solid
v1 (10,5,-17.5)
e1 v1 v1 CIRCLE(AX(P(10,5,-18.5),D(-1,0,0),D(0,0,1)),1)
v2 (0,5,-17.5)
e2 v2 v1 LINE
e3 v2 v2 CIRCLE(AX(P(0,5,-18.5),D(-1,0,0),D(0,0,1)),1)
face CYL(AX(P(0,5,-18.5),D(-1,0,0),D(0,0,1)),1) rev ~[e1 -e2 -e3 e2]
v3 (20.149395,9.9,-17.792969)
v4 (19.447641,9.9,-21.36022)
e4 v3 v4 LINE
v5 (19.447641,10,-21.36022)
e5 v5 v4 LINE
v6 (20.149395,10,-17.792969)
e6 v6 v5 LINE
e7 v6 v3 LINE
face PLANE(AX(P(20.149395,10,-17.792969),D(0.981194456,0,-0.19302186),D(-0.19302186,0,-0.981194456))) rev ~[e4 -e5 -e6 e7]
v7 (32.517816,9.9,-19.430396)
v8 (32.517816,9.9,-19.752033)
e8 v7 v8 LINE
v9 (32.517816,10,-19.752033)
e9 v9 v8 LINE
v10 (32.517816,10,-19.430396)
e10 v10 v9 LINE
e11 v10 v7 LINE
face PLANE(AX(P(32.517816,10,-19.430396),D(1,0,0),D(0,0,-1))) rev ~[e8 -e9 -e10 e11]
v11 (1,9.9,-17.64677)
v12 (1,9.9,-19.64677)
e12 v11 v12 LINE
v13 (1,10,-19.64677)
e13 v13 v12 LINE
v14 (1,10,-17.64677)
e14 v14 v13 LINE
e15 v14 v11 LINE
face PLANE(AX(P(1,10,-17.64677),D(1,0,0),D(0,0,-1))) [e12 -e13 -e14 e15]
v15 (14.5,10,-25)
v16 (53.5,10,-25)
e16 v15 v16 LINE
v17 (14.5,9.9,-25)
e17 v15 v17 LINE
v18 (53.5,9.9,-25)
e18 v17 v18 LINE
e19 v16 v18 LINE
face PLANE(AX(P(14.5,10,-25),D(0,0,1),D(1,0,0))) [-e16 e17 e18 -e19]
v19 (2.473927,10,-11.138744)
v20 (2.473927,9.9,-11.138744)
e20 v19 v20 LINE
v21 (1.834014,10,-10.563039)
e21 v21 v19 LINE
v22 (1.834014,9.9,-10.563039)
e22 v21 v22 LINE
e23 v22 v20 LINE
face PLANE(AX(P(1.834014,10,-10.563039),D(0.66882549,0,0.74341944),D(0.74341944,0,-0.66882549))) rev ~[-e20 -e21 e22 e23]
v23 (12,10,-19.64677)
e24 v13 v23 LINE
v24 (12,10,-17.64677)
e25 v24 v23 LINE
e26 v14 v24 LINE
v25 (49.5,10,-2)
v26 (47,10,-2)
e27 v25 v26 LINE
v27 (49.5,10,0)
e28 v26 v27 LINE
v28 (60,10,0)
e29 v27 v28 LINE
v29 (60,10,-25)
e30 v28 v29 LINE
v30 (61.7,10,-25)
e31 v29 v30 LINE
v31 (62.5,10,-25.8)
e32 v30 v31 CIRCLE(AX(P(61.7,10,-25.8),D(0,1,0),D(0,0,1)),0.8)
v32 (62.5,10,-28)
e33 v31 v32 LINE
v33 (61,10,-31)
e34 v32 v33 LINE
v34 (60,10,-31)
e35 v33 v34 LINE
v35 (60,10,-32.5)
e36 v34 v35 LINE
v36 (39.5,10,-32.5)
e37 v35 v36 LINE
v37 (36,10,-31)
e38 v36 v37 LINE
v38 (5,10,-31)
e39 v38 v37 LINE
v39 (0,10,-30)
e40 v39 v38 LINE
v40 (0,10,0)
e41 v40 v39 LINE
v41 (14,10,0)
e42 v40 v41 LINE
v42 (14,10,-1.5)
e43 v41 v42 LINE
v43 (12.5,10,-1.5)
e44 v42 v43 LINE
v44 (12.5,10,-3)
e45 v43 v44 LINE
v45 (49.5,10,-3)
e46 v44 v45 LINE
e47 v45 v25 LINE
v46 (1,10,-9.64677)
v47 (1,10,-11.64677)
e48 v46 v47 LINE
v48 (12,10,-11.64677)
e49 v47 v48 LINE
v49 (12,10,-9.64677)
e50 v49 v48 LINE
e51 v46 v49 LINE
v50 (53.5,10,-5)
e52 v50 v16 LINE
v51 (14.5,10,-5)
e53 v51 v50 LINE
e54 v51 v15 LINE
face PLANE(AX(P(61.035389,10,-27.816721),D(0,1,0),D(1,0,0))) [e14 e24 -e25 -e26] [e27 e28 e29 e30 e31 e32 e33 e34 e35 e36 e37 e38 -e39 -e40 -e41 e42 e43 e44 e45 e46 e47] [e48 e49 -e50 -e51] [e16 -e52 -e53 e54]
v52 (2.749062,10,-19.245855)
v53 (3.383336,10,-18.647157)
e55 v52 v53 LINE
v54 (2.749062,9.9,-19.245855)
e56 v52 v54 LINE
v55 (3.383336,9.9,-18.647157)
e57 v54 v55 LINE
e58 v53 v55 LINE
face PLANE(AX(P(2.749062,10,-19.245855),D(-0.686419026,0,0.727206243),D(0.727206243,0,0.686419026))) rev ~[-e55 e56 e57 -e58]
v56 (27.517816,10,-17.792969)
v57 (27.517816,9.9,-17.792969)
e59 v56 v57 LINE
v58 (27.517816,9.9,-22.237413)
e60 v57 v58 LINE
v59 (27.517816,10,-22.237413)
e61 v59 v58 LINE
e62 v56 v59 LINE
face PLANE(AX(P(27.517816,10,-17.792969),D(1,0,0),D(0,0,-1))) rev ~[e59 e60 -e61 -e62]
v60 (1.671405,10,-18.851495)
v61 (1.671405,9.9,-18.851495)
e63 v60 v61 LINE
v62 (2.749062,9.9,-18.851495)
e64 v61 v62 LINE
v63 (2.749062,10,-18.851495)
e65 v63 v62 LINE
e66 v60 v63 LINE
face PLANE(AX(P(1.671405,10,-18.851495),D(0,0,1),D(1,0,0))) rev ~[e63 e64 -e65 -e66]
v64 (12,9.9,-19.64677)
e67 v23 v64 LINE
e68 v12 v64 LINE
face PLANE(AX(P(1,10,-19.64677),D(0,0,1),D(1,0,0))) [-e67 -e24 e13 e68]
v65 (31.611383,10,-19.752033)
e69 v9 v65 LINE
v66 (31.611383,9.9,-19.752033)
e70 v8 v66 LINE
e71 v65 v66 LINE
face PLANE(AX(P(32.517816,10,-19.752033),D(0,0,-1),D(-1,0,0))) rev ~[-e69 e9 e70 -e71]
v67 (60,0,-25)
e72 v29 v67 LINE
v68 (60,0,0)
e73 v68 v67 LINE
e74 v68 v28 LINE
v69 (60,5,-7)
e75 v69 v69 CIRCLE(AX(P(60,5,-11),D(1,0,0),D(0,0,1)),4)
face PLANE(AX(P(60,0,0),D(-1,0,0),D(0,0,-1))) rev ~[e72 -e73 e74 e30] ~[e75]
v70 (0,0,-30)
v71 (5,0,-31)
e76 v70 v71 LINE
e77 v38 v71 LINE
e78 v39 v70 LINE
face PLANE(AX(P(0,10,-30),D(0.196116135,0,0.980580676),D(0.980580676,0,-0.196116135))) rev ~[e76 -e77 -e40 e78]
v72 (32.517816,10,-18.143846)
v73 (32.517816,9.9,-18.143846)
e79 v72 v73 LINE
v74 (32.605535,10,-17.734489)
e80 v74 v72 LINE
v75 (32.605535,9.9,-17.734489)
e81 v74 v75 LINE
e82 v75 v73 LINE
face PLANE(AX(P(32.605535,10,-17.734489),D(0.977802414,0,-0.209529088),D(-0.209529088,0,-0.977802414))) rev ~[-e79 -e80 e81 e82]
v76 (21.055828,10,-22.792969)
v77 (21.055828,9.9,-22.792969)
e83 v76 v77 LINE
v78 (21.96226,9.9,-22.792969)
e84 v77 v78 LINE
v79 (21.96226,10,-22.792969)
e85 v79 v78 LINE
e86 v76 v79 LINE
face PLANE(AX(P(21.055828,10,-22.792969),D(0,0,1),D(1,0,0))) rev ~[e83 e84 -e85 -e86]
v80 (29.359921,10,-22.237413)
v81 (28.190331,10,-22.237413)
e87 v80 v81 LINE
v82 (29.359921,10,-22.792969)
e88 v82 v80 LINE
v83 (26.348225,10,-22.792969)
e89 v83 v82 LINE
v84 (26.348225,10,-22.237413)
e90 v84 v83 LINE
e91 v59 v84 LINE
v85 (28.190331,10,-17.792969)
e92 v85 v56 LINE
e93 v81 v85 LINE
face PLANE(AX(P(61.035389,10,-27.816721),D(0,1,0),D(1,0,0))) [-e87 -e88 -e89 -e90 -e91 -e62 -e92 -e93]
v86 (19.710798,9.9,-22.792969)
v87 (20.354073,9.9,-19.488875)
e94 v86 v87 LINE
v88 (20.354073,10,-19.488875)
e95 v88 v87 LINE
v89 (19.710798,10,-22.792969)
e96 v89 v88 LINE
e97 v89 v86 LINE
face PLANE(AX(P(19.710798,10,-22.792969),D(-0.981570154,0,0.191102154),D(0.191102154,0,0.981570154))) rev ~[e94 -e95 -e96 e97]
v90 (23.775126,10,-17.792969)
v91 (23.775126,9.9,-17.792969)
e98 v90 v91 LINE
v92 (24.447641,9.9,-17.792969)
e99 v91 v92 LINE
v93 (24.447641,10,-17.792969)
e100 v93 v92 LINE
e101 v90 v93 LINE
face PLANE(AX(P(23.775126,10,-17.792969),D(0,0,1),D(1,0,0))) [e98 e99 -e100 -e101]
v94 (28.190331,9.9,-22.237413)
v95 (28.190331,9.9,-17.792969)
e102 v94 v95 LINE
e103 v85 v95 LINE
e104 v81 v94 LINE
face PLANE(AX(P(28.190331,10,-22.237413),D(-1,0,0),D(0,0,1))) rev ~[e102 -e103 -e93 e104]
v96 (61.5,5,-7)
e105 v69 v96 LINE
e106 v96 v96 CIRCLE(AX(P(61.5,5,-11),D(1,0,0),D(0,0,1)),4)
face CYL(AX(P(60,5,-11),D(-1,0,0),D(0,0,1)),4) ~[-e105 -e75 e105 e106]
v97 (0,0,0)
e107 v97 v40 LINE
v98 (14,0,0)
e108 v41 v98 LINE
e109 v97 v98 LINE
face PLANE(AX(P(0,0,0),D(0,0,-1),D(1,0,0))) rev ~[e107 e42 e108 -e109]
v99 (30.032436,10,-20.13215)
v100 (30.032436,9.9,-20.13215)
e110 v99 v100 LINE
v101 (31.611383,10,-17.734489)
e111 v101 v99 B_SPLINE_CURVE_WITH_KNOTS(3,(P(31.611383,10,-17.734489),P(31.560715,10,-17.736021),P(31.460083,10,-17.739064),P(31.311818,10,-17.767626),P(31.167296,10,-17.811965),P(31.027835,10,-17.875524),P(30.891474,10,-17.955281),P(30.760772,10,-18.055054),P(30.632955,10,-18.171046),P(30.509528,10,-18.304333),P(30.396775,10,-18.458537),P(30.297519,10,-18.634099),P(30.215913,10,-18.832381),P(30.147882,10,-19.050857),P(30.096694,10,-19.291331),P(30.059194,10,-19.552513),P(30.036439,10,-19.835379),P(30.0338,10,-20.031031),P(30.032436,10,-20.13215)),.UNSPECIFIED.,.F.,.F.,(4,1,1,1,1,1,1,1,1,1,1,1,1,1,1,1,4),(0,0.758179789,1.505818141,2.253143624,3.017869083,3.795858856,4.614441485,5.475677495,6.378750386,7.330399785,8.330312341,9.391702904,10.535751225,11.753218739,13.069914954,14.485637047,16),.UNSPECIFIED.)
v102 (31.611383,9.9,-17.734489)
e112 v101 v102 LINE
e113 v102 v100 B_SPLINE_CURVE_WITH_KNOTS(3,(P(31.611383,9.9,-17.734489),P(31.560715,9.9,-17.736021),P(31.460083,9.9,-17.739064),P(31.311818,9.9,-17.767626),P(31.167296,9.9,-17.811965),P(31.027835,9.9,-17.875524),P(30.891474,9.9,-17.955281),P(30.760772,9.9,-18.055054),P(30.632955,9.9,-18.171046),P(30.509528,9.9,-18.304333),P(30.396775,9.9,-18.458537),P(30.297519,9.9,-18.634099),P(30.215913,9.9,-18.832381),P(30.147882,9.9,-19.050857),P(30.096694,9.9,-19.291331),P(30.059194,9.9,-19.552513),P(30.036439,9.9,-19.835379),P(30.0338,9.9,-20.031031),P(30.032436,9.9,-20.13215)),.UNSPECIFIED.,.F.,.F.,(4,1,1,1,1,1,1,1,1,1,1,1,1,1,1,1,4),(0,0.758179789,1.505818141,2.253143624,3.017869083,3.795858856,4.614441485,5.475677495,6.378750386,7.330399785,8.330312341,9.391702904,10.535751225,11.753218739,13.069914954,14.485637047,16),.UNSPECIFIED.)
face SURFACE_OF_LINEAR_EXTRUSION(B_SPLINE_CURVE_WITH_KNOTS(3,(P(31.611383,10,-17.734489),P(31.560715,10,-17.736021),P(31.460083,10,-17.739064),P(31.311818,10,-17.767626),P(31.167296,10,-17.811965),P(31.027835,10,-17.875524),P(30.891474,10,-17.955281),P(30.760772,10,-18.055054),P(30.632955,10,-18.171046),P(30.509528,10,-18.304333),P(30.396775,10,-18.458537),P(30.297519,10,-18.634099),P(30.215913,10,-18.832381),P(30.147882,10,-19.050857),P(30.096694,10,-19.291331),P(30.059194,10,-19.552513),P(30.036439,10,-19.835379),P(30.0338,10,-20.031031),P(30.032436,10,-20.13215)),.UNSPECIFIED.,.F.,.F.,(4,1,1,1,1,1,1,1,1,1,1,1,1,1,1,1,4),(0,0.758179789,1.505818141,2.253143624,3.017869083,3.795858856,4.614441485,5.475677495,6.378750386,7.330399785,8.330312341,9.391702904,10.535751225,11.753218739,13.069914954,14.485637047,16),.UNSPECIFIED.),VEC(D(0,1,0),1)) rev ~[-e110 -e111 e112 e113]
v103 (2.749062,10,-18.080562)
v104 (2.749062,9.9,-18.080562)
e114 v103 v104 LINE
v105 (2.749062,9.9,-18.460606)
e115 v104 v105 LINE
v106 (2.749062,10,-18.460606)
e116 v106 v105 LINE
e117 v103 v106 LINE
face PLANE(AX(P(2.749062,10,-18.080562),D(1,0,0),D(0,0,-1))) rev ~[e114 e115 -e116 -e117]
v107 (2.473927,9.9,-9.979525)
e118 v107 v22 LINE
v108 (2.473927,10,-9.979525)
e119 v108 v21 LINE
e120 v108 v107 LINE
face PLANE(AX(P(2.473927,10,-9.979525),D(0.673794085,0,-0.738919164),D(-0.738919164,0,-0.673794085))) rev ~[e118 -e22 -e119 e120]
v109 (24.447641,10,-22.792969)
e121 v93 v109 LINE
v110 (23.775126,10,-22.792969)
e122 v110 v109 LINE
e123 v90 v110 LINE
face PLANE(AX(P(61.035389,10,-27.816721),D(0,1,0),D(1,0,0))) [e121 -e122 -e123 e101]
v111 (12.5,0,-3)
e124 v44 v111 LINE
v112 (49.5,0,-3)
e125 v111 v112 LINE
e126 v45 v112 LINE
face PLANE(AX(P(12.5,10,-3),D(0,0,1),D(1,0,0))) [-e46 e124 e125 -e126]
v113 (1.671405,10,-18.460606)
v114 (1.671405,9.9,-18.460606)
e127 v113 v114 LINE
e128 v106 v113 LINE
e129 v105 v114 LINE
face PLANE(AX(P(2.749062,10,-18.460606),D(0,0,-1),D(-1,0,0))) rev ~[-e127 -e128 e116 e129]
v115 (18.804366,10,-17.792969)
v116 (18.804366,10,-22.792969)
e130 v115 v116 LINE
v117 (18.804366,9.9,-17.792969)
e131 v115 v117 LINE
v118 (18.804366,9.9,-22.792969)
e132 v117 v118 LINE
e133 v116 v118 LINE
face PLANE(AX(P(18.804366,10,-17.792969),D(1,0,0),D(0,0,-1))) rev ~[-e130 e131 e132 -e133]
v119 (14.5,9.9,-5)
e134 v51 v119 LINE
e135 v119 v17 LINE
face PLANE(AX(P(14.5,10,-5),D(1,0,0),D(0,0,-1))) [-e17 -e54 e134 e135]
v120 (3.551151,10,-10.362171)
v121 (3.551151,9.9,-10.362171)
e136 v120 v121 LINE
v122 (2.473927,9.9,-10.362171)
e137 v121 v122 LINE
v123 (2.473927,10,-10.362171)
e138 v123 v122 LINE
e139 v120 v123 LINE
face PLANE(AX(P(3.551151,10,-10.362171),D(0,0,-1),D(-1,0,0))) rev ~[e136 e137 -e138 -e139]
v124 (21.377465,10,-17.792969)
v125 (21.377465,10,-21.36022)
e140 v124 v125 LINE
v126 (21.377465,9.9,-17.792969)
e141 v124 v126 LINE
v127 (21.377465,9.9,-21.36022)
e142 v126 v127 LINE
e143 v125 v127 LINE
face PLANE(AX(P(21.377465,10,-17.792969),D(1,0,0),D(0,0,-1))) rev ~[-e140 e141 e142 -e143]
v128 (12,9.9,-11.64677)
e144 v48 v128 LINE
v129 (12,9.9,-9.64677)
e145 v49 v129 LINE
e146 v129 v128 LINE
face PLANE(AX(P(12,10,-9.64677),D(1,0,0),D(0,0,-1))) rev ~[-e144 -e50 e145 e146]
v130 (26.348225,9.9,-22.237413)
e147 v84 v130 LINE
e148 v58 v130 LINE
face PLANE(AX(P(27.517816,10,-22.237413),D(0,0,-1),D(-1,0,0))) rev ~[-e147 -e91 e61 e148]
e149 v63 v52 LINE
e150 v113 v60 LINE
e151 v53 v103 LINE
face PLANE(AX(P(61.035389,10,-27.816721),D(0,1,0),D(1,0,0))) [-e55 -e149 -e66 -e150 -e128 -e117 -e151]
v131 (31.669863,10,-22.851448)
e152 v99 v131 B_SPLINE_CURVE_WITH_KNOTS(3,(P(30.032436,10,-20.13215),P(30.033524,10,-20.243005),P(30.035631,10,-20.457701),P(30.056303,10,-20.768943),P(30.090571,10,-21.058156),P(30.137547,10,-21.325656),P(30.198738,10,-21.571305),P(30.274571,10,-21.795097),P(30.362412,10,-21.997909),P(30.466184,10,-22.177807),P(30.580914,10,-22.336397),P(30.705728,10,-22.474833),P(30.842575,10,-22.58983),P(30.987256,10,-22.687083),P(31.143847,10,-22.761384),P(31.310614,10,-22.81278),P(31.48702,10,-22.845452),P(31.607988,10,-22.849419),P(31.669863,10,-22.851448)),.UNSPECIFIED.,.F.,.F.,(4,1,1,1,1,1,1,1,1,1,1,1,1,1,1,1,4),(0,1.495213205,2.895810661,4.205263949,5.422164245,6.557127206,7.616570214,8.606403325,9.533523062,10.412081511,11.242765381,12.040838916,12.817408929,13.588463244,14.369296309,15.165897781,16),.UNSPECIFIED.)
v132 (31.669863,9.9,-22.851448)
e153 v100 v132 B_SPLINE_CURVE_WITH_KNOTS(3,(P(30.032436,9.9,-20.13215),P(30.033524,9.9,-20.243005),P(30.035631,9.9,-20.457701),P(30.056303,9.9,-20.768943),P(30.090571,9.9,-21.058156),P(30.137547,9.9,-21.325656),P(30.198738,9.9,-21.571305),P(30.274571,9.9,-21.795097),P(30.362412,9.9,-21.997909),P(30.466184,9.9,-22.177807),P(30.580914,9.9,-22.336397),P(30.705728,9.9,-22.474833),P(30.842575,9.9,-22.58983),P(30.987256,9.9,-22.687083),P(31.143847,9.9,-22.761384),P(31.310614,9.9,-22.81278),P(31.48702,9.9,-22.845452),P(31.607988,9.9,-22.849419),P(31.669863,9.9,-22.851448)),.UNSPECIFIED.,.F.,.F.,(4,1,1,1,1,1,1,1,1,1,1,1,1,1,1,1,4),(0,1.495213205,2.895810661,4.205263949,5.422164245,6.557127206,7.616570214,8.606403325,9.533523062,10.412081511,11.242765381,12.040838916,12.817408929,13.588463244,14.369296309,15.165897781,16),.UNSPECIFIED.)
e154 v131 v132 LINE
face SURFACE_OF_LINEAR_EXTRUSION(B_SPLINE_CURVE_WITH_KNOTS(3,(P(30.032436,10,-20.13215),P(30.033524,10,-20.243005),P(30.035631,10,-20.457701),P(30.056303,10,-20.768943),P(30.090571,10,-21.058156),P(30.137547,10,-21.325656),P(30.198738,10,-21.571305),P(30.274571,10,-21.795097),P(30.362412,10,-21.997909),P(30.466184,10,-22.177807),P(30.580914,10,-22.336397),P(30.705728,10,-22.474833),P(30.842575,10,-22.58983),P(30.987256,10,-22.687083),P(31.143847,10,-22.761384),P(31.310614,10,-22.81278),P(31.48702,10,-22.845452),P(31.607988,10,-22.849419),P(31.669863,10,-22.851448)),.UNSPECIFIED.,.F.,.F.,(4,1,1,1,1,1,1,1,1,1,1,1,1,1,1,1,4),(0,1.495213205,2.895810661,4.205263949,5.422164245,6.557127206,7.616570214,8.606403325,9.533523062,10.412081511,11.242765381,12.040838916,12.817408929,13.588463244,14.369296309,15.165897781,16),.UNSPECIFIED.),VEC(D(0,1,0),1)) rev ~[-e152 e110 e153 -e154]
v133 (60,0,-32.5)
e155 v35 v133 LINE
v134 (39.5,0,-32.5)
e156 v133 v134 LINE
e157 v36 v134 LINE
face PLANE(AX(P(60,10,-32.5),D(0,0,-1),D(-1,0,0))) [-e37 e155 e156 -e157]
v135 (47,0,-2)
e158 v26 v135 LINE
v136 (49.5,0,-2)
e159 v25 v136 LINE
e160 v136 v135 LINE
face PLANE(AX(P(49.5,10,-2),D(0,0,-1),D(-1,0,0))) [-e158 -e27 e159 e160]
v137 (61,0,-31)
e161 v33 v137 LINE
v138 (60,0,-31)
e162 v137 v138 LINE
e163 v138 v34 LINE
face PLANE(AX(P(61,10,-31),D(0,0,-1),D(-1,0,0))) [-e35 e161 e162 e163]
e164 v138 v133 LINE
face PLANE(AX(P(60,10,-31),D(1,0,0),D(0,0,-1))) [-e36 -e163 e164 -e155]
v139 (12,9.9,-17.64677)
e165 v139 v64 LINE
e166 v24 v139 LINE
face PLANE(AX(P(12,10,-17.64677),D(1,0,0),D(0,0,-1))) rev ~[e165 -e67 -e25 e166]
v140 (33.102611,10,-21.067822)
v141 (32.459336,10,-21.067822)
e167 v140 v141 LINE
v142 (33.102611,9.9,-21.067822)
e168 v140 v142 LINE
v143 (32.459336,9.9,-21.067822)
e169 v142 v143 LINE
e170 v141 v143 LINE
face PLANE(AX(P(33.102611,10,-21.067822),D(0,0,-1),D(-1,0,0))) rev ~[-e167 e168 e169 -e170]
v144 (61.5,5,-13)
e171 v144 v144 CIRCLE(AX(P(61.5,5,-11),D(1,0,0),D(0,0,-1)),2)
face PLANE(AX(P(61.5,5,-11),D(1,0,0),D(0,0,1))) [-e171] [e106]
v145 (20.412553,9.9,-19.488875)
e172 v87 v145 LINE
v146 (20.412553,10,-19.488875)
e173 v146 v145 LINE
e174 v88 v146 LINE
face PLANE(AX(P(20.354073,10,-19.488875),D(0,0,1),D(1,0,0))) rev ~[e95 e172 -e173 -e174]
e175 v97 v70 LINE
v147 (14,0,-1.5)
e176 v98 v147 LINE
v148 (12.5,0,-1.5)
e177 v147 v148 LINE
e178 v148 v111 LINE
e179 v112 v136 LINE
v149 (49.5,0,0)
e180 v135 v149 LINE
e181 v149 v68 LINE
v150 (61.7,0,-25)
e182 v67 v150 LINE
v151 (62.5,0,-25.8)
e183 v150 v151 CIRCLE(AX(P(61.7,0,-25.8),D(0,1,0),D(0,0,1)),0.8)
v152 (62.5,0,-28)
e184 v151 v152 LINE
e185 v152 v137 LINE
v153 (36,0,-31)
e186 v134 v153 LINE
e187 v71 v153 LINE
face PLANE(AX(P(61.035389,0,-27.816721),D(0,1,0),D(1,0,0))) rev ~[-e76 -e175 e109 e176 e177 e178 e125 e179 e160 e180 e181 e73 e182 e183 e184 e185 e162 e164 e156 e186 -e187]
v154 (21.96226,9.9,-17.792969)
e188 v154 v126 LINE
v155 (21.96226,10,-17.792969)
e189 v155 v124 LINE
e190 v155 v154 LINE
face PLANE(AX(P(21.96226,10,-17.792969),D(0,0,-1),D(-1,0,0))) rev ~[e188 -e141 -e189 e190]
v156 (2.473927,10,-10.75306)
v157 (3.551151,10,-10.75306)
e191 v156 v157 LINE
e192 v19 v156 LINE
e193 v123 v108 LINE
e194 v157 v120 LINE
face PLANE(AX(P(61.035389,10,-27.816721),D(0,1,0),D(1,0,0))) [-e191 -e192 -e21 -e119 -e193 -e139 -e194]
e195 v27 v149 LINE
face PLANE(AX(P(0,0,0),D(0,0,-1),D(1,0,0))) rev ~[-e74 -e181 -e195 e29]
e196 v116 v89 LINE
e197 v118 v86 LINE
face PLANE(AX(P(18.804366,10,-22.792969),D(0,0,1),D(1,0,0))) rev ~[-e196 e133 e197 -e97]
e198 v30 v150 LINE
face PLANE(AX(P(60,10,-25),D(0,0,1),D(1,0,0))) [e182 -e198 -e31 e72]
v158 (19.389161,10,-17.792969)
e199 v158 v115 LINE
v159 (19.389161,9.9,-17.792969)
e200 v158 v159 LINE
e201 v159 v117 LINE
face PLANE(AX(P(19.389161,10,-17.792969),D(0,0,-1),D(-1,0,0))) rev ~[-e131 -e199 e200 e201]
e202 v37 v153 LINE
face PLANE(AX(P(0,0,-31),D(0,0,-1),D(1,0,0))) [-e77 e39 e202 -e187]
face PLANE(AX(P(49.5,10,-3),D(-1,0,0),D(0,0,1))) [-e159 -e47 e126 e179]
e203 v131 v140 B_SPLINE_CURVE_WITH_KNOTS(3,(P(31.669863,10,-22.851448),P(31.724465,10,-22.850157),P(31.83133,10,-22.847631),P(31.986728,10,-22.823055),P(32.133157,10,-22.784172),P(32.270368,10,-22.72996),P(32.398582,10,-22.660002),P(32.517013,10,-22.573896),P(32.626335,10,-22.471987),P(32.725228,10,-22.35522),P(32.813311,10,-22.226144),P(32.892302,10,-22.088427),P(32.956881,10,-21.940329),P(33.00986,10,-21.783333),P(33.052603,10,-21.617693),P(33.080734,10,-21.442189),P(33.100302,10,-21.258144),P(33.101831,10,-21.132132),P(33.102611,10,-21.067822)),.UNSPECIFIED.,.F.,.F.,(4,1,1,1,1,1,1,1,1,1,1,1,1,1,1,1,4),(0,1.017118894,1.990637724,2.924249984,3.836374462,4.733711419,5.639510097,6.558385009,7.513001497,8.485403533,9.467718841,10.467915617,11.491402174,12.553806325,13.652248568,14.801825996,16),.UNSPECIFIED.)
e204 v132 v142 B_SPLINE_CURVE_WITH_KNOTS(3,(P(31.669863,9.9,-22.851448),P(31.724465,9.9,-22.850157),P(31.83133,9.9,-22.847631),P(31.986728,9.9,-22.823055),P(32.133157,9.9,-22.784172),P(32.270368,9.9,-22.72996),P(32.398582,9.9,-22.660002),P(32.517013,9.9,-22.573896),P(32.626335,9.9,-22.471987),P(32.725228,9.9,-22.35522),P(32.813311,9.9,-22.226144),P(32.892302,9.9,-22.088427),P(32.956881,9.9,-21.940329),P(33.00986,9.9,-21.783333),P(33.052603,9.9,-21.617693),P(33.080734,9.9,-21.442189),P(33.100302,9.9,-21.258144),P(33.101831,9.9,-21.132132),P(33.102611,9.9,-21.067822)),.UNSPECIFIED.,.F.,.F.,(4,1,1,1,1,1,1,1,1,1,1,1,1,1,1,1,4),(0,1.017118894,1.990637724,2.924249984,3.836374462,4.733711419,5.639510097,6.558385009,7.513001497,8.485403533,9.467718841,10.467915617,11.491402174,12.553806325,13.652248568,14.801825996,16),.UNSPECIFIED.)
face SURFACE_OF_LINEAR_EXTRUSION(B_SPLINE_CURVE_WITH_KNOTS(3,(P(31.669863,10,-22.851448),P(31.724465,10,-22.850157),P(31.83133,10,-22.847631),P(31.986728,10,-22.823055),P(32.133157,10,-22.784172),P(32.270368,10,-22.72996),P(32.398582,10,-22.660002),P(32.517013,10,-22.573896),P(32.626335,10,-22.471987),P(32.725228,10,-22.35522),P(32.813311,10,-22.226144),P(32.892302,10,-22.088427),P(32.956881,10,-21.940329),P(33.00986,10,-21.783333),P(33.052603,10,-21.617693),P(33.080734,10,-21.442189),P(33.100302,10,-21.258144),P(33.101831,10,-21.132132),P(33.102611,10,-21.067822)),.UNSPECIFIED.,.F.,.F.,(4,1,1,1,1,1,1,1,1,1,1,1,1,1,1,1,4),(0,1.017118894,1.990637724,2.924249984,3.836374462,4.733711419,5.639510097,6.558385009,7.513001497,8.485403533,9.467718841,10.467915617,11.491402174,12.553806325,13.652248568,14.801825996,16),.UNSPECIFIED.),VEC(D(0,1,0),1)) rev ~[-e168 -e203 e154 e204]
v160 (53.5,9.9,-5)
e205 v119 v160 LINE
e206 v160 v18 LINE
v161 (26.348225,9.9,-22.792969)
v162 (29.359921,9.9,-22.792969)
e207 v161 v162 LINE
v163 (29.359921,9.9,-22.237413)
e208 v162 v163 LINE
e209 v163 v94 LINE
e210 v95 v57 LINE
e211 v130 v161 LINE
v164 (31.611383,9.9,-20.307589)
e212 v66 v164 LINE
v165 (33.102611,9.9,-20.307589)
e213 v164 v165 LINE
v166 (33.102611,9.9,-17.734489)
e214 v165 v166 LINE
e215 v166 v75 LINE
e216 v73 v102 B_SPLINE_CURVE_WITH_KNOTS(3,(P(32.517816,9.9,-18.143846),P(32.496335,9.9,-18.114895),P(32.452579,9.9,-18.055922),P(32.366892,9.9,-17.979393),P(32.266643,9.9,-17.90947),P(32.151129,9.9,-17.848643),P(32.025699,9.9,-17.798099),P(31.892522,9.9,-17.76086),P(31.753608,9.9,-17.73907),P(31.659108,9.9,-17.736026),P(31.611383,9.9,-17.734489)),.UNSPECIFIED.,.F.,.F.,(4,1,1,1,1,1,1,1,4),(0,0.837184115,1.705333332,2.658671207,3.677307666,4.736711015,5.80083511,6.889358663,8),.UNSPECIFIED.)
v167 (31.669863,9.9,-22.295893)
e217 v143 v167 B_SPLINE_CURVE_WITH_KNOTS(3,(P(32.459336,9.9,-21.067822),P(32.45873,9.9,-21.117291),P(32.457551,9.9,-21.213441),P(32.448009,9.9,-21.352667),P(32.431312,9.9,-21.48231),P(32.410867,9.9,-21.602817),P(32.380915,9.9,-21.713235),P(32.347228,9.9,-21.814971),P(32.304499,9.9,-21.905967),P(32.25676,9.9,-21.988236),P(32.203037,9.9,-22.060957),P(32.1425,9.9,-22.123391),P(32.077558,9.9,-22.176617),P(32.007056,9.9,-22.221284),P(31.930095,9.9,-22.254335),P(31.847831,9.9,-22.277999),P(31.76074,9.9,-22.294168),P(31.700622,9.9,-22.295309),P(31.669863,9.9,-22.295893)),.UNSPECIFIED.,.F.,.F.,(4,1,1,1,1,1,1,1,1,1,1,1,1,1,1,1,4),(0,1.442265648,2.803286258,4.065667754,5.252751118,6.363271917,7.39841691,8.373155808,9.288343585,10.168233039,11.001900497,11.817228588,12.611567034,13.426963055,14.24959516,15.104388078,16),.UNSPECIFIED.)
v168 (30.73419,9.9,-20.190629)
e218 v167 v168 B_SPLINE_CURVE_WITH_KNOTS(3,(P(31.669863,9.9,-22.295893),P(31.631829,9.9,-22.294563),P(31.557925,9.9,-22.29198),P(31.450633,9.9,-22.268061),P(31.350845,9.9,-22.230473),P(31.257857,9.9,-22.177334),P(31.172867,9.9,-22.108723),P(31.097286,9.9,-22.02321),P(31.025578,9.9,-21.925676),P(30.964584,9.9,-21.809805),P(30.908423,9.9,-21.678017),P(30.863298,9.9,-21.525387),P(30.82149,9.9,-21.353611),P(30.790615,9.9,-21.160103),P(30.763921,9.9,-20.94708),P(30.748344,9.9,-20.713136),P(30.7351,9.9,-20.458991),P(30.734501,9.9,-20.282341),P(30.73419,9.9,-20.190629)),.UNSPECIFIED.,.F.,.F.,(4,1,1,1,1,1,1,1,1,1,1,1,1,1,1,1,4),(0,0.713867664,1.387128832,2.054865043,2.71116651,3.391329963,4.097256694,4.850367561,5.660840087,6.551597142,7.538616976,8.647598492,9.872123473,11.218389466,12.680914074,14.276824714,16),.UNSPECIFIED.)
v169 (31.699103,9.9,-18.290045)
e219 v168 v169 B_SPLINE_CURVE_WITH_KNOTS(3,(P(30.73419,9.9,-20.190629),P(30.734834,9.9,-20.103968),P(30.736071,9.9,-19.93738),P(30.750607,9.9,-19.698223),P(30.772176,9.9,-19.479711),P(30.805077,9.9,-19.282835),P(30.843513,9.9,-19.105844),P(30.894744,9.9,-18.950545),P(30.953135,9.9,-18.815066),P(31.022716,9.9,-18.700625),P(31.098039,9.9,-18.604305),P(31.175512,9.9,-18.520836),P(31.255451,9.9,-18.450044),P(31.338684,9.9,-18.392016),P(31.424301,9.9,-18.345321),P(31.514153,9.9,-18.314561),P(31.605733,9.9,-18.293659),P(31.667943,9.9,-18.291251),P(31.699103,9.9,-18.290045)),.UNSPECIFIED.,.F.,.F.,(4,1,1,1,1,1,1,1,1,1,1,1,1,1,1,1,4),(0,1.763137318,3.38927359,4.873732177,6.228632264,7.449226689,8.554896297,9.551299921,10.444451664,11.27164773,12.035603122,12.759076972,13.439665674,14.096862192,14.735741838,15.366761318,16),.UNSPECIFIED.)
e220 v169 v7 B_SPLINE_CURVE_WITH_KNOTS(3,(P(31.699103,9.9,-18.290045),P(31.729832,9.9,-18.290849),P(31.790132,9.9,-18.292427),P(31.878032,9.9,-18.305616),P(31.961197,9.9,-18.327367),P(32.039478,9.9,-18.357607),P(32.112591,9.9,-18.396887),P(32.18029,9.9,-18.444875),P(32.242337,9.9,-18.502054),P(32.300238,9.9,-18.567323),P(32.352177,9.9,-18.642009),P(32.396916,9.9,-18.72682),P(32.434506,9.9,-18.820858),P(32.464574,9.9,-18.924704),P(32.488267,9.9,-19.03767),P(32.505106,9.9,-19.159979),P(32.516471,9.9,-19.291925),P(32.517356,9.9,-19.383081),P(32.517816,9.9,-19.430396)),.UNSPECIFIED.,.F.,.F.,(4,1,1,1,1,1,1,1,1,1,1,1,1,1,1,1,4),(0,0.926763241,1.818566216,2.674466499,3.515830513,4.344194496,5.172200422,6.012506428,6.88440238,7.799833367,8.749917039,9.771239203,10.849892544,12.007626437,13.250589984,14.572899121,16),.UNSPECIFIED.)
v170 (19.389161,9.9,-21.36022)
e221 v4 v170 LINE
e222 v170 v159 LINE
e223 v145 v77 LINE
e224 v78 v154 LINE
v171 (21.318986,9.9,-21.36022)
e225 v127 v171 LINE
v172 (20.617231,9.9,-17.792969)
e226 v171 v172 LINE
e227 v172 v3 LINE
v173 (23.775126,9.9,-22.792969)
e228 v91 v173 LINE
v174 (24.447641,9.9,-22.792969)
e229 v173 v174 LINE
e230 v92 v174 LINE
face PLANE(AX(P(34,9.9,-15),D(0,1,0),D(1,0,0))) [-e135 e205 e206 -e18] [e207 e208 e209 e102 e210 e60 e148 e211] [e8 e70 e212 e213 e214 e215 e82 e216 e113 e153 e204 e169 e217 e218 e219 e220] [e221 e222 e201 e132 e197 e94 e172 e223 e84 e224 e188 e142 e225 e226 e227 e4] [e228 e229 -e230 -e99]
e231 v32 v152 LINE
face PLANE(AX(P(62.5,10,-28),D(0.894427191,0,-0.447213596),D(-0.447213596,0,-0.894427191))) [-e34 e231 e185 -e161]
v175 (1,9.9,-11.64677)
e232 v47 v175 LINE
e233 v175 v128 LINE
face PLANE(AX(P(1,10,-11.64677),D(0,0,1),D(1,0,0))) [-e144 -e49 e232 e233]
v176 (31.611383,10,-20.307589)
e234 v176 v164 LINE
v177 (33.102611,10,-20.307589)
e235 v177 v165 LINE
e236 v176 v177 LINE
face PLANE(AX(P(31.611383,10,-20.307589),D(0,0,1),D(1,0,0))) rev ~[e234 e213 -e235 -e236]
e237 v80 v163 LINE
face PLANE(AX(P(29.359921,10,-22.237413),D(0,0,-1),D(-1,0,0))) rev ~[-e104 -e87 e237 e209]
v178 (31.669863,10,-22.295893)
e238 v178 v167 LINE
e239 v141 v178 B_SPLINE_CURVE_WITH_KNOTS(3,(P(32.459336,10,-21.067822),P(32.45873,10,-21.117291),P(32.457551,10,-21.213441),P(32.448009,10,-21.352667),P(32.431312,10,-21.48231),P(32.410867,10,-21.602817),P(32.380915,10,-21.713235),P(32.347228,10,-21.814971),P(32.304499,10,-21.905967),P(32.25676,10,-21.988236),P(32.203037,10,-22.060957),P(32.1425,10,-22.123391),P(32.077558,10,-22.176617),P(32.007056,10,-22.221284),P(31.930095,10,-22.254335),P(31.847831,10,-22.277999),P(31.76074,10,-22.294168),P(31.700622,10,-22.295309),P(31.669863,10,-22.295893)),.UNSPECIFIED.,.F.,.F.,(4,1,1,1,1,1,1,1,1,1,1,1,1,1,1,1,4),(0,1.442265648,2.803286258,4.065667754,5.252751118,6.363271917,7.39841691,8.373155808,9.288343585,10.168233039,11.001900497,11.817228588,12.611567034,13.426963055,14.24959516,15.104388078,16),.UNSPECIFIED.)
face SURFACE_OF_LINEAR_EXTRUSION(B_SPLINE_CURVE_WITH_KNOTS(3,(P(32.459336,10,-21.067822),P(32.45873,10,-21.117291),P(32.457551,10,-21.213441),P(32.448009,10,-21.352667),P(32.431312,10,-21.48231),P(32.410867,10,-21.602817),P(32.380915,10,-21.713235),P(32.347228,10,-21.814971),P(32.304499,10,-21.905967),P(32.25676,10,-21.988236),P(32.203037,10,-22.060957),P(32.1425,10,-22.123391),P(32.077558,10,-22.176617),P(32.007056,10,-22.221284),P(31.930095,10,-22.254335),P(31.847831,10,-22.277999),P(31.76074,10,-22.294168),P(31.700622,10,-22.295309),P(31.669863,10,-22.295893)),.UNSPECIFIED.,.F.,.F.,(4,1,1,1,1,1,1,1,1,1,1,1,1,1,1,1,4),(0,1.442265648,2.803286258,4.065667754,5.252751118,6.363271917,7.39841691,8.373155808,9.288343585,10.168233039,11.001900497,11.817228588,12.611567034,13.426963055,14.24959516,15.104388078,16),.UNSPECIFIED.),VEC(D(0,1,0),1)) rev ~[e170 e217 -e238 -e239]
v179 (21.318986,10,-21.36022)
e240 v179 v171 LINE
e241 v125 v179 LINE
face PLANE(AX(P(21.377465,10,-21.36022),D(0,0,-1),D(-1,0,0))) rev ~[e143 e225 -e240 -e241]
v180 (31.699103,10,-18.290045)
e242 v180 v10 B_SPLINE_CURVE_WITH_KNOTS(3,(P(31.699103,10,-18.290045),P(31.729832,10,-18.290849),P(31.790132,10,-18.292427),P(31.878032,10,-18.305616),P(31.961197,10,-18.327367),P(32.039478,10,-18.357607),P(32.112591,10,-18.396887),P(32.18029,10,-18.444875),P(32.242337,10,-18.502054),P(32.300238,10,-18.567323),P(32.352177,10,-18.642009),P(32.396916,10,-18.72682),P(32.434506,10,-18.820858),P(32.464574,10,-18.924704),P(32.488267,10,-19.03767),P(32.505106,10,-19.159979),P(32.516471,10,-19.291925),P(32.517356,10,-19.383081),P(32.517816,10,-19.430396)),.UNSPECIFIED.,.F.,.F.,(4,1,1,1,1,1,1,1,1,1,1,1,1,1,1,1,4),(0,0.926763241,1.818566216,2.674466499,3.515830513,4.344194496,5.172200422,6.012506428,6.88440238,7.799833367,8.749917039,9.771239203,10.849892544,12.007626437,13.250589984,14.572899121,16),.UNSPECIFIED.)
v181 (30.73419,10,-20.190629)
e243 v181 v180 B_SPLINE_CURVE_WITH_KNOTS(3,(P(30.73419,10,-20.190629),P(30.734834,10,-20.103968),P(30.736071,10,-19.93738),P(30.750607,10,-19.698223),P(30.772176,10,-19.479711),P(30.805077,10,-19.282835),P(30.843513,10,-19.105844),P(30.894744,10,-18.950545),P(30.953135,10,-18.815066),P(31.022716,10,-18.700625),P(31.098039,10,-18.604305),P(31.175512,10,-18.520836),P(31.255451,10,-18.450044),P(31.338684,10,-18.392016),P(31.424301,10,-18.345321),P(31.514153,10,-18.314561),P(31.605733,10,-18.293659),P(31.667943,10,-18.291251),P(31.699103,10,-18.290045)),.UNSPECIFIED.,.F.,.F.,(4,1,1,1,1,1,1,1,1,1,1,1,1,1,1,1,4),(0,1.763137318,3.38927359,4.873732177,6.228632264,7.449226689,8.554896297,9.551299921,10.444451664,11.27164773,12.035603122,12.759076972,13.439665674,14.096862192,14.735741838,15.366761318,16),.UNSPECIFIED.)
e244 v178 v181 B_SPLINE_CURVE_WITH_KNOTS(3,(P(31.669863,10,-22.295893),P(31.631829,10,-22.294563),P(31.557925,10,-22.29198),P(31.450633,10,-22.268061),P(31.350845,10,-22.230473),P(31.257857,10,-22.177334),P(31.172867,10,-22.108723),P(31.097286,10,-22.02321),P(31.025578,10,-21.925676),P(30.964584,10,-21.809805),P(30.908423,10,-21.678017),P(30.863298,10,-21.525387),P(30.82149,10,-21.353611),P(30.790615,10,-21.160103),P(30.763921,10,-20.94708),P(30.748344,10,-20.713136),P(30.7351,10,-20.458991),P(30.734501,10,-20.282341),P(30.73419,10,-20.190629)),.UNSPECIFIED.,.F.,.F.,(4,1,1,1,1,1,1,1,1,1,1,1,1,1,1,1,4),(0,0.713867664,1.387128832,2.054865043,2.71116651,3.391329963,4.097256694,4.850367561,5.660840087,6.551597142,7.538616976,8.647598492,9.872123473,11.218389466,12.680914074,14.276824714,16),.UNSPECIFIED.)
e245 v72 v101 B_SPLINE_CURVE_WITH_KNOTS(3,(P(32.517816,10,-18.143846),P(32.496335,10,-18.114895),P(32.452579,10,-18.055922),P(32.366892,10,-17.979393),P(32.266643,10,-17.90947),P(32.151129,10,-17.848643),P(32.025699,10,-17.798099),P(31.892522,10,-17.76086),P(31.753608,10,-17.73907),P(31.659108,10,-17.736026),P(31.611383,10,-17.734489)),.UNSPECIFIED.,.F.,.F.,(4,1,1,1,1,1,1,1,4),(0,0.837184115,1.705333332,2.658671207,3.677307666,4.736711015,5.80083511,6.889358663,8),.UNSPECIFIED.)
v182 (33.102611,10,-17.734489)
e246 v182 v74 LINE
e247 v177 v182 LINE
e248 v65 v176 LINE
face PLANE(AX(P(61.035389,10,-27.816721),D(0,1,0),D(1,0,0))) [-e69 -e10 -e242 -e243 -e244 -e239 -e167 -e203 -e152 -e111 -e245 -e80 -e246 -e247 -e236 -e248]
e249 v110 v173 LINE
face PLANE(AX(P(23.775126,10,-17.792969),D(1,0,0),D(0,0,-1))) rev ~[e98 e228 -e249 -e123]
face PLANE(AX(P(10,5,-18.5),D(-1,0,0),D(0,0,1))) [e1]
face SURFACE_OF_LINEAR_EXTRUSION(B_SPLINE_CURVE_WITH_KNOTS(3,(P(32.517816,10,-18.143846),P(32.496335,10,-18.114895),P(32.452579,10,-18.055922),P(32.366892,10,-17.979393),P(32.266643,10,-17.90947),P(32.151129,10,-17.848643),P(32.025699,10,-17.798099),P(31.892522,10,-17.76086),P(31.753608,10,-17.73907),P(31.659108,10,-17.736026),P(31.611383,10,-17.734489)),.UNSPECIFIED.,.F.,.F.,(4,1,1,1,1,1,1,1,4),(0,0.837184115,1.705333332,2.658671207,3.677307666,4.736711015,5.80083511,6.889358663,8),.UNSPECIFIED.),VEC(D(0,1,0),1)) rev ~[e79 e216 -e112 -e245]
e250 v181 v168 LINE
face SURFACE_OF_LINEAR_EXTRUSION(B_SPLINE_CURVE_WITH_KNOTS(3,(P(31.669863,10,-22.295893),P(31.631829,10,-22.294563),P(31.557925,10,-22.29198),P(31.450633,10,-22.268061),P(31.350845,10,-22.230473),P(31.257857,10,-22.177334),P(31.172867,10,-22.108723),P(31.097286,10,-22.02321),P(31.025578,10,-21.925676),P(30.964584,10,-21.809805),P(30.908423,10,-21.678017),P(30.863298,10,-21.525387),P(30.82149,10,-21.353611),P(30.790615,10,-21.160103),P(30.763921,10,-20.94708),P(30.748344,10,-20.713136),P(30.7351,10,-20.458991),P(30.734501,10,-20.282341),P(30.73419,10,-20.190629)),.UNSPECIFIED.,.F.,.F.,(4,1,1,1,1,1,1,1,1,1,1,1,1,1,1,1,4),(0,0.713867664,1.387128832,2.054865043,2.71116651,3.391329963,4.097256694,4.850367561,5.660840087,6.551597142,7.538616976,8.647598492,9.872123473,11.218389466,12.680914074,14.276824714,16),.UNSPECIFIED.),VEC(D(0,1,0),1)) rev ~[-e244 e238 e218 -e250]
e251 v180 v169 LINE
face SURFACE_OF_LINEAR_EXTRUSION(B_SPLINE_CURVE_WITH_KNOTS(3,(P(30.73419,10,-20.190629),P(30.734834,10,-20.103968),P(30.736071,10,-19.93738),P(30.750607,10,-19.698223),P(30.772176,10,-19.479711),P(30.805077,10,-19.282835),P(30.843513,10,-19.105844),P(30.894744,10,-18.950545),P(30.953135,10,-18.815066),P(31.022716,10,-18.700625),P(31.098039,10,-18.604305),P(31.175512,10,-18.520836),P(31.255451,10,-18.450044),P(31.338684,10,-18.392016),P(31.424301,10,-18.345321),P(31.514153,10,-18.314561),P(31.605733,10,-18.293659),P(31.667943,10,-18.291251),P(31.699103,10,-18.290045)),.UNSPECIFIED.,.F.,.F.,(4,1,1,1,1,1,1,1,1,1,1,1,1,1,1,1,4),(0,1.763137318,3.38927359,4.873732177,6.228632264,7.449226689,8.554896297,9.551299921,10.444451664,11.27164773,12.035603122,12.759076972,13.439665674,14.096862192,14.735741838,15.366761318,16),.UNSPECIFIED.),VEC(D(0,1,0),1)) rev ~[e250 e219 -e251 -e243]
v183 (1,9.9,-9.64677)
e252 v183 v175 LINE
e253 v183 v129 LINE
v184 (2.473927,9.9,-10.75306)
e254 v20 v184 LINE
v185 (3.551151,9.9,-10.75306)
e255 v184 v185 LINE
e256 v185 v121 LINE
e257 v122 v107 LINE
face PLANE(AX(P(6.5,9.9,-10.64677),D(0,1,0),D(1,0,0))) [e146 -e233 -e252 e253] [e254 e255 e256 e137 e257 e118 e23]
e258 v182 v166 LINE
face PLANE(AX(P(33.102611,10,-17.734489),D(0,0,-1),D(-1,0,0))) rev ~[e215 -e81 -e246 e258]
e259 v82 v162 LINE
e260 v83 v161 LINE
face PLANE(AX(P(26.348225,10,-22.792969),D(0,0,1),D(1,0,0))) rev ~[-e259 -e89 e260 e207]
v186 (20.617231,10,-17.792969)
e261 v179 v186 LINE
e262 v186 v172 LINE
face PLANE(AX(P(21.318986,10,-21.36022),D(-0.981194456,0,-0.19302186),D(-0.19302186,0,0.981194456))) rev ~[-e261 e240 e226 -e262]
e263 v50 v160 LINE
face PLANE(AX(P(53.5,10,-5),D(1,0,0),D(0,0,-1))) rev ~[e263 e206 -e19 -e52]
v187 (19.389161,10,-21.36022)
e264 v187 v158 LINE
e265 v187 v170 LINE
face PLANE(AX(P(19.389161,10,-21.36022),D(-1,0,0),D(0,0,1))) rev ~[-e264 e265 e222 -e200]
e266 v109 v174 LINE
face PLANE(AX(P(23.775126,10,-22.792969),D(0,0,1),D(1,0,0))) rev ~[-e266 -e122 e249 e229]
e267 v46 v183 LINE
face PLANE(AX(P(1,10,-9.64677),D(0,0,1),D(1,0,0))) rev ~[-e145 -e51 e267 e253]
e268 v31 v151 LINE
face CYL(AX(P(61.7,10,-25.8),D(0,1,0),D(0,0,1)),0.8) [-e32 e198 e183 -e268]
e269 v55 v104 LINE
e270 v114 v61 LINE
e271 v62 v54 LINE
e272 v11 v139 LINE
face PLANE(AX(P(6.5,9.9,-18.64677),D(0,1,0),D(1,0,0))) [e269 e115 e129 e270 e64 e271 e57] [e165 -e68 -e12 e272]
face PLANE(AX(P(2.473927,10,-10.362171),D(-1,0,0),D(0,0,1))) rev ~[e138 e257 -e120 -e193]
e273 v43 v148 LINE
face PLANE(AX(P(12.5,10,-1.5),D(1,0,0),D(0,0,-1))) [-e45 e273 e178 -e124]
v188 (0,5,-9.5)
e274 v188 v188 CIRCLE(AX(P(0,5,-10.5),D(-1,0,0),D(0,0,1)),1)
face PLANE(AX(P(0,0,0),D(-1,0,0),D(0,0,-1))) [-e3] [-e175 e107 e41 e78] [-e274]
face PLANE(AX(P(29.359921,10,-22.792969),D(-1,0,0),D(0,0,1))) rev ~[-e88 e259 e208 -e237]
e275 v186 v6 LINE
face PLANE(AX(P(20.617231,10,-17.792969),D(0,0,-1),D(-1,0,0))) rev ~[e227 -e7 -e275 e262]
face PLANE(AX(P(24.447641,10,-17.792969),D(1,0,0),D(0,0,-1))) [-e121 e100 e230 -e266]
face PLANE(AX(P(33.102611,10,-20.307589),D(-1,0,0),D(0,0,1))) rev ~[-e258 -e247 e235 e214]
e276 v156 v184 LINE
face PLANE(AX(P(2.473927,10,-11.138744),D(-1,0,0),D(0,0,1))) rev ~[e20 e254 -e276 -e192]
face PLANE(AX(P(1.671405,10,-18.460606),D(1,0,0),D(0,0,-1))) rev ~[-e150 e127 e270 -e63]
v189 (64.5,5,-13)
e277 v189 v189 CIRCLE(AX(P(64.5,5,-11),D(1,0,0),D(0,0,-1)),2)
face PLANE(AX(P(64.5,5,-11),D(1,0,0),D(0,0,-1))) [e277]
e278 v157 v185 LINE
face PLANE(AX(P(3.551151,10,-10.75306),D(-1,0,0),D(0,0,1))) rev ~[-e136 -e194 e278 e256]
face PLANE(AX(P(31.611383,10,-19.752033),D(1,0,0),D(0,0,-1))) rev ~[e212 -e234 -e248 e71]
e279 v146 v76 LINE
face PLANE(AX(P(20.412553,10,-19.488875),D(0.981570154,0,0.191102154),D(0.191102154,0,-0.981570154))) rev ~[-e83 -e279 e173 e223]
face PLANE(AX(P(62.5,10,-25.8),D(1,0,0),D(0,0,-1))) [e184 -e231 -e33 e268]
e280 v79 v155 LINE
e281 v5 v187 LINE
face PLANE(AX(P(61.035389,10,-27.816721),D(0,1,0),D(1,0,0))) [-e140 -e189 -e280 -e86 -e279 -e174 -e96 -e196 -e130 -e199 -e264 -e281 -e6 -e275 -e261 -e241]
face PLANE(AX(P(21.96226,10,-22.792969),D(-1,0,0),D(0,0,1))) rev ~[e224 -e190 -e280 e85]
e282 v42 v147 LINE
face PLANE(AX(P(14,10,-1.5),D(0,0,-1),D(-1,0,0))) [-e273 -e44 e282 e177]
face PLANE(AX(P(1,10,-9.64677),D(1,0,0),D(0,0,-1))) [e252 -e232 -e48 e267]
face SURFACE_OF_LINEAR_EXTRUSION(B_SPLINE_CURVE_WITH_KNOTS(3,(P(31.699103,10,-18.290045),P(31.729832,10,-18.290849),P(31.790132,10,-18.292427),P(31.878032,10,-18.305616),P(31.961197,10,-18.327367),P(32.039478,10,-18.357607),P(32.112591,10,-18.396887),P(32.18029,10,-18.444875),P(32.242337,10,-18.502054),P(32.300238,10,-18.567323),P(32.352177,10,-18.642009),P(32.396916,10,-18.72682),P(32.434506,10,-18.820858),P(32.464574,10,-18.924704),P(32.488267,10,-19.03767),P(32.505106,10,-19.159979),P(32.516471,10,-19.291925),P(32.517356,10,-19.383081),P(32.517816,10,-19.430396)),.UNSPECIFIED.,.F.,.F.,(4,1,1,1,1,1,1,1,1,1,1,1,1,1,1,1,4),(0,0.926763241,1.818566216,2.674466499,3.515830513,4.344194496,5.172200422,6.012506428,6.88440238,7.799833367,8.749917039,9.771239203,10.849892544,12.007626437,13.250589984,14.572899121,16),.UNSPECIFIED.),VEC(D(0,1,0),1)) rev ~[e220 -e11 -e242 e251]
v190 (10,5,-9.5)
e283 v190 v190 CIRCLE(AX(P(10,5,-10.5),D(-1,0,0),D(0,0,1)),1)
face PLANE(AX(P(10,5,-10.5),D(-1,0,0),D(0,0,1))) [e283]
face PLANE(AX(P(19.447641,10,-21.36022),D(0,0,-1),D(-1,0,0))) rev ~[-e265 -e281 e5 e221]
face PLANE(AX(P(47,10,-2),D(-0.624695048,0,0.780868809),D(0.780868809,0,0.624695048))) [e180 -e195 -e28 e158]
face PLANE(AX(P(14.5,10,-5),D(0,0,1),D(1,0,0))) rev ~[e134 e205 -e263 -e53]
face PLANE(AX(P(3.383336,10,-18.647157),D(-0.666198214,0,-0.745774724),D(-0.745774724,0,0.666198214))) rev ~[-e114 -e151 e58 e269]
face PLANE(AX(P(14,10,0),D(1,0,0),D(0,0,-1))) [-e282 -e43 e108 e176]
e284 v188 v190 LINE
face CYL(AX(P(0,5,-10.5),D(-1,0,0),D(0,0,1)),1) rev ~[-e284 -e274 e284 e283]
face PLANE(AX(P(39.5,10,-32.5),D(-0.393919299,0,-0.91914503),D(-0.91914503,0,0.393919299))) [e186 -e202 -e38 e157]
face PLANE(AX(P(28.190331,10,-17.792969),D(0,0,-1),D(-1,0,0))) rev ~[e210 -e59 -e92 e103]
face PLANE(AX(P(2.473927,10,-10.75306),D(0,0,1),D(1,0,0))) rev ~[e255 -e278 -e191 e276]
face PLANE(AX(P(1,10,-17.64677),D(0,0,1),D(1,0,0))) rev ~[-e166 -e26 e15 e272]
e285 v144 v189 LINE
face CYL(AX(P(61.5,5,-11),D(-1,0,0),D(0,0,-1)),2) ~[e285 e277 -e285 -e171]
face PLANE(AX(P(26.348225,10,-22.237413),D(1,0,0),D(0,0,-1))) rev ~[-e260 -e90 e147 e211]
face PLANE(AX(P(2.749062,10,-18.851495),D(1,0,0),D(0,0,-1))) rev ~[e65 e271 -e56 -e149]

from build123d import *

# Parameters (mm, degrees)
SKETCH_1_W          = 60
SKETCH_1_H          = 31
EXTRUDE_1_DEPTH     = 10
CUT_EXTRUDE_1_DEPTH = 10
EXTRUDE_2_DEPTH     = 10
SKETCH_4_R          = 1
CUT_EXTRUDE_2_DEPTH = 10
SKETCH_5_W          = 39
SKETCH_5_H          = 20
SKETCH_5_W_2        = 0.67251462
SKETCH_5_H_2        = 5
SKETCH_5_W_3        = 11
SKETCH_5_H_3        = 2
CUT_EXTRUDE_3_DEPTH = 0.1
SKETCH_6_R          = 4
EXTRUDE_3_DEPTH     = 1.5
SKETCH_7_R          = 2
EXTRUDE_4_DEPTH     = 3


with BuildPart() as part:
    # 草图1 → 凸台-拉伸1 (new body)
    with BuildSketch(Plane(origin=(0, 0, 0), x_dir=(1, 0, 0), z_dir=(0, 1, 0))):
        with Locations((30, 15.5)):
            Rectangle(SKETCH_1_W, SKETCH_1_H)
    extrude(amount=EXTRUDE_1_DEPTH)

    # 草图2 → 切除-拉伸1 (cut)
    with BuildSketch(Plane(origin=(0, 10, 0), x_dir=(1, 0, 0), z_dir=(0, 1, 0))):
        Polygon((14, 0), (14, 1.5), (12.5, 1.5), (12.5, 3), (49.5, 3), (49.5, 2), (47, 2), (49.5, 0), align=None)
        Polygon((0, 30), (5, 31), (0, 31), align=None)
    extrude(amount=-CUT_EXTRUDE_1_DEPTH, mode=Mode.SUBTRACT)

    # 草图3 → 凸台-拉伸2 (add, through all)
    with BuildSketch(Plane(origin=(0, 10, 0), x_dir=(1, 0, 0), z_dir=(0, 1, 0))):
        with BuildLine():
            Line((61, 31), (60, 31))
            Line((60, 31), (60, 25))
            Line((60, 25), (61.7, 25))
            ThreePointArc((61.7, 25), (62.265685425, 25.234314575), (62.5, 25.8))
            Line((62.5, 25.8), (62.5, 28))
            Line((62.5, 28), (61, 31))
        make_face()
        Polygon((36, 31), (60, 31), (60, 32.5), (39.5, 32.5), align=None)
    extrude(amount=-EXTRUDE_2_DEPTH)

    # 草图4 → 切除-拉伸2 (cut)
    with BuildSketch(Plane.ZY):
        with Locations((-18.5, 5)):
            Circle(SKETCH_4_R)
        with Locations((-10.5, 5)):
            Circle(SKETCH_4_R)
    extrude(amount=-CUT_EXTRUDE_2_DEPTH, mode=Mode.SUBTRACT)

    # 草图5 → 切除-拉伸3 (cut)
    # profile 1 of 3: a face of its own
    with BuildSketch(Plane(origin=(0, 10, 0), x_dir=(1, 0, 0), z_dir=(0, 1, 0))):
        with Locations((34, 15)):
            Rectangle(SKETCH_5_W, SKETCH_5_H)
        Polygon((21.962260416, 17.792968637), (21.377465095, 17.792968637), (21.377465095, 21.360220099), (21.318985562, 21.360220099), (20.617231176, 17.792968637), (20.149394919, 17.792968637), (19.447640533, 21.360220099), (19.389161001, 21.360220099), (19.389161001, 17.792968637), (18.804365679, 17.792968637), (18.804365679, 22.792968637), (19.710798428, 22.792968637), (20.354073282, 19.48887507), (20.412552814, 19.48887507), (21.055827668, 22.792968637), (21.962260416, 22.792968637), align=None, mode=Mode.SUBTRACT)
        with Locations((24.111383223, 20.292968637)):
            Rectangle(SKETCH_5_W_2, SKETCH_5_H_2, mode=Mode.SUBTRACT)
        Polygon((29.359921235, 22.237413081), (28.190330592, 22.237413081), (28.190330592, 17.792968637), (27.517815972, 17.792968637), (27.517815972, 22.237413081), (26.348225329, 22.237413081), (26.348225329, 22.792968637), (29.359921235, 22.792968637), align=None, mode=Mode.SUBTRACT)
        with BuildLine():
            Line((33.102611293, 17.734489105), (32.60553527, 17.734489105))
            Line((32.60553527, 17.734489105), (32.517815972, 18.14384583))
            add(Edge.make_bspline(
                [(32.517815972, 18.14384583), (32.496335049, 18.114894908), (32.452578683, 18.05592225), (32.366892397, 17.979393037), (32.266643174, 17.909470256), (32.151128708, 17.848642528), (32.025699097, 17.798099411), (31.892521927, 17.760859691), (31.75360842, 17.739070297), (31.659108429, 17.736026374), (31.611383223, 17.734489105)],
                knots=[0, 0, 0, 0, 0.837184115, 1.705333332, 2.658671207, 3.677307666, 4.736711015, 5.80083511, 6.889358663, 8, 8, 8, 8], degree=3))
            add(Edge.make_bspline(
                [(31.611383223, 17.734489105), (31.560714868, 17.736021013), (31.46008263, 17.739063531), (31.311817937, 17.76762581), (31.16729555, 17.811965229), (31.027834691, 17.8755244), (30.891473719, 17.955281193), (30.760771836, 18.055054478), (30.632955326, 18.171046345), (30.509527994, 18.304333327), (30.396774962, 18.45853747), (30.297519239, 18.634098702), (30.215913122, 18.832381023), (30.147881926, 19.050856514), (30.096694353, 19.291330684), (30.05919444, 19.552513083), (30.036438806, 19.835379254), (30.033799786, 20.03103084), (30.032435855, 20.132149923)],
                knots=[0, 0, 0, 0, 0.758179789, 1.505818141, 2.253143624, 3.017869083, 3.795858856, 4.614441485, 5.475677495, 6.378750386, 7.330399785, 8.330312341, 9.391702904, 10.535751225, 11.753218739, 13.069914954, 14.485637047, 16, 16, 16, 16], degree=3))
            add(Edge.make_bspline(
                [(30.032435855, 20.132149923), (30.033524015, 20.243005064), (30.035631477, 20.457700531), (30.056303392, 20.768942629), (30.090571093, 21.058155718), (30.137547246, 21.32565553), (30.198737704, 21.571304744), (30.274571201, 21.795097166), (30.362412052, 21.997908599), (30.466184437, 22.177806713), (30.5809145, 22.336396595), (30.705728208, 22.474833232), (30.84257532, 22.589830475), (30.987256047, 22.687082934), (31.14384738, 22.76138369), (31.310614479, 22.812780351), (31.487019509, 22.845452192), (31.607987718, 22.849419101), (31.669862755, 22.851448169)],
                knots=[0, 0, 0, 0, 1.495213205, 2.895810661, 4.205263949, 5.422164245, 6.557127206, 7.616570214, 8.606403325, 9.533523062, 10.412081511, 11.242765381, 12.040838916, 12.817408929, 13.588463244, 14.369296309, 15.165897781, 16, 16, 16, 16], degree=3))
            add(Edge.make_bspline(
                [(31.669862755, 22.851448169), (31.724465447, 22.850157263), (31.831330219, 22.847630786), (31.986728106, 22.823055348), (32.133156944, 22.78417248), (32.270367528, 22.72996005), (32.39858198, 22.660001985), (32.517012997, 22.573895908), (32.626334766, 22.471986726), (32.725227795, 22.355220127), (32.813311094, 22.226144327), (32.892302084, 22.088427367), (32.956880517, 21.940329471), (33.009859712, 21.783333409), (33.052602879, 21.617693101), (33.080734277, 21.442188631), (33.100302009, 21.258143875), (33.101830982, 21.132132363), (33.102611293, 21.067822438)],
                knots=[0, 0, 0, 0, 1.017118894, 1.990637724, 2.924249984, 3.836374462, 4.733711419, 5.639510097, 6.558385009, 7.513001497, 8.485403533, 9.467718841, 10.467915617, 11.491402174, 12.553806325, 13.652248568, 14.801825996, 16, 16, 16, 16], degree=3))
            Line((33.102611293, 21.067822438), (32.45933644, 21.067822438))
            add(Edge.make_bspline(
                [(32.45933644, 21.067822438), (32.458729978, 21.117290953), (32.457551218, 21.213441346), (32.448009389, 21.352666796), (32.431312149, 21.482310098), (32.410867073, 21.602817265), (32.380914637, 21.71323506), (32.347227761, 21.814971363), (32.304498884, 21.905966508), (32.256760295, 21.988236327), (32.203036922, 22.060957155), (32.142500003, 22.123391188), (32.077558088, 22.176617179), (32.007055999, 22.22128447), (31.930094878, 22.254334745), (31.84783057, 22.277999378), (31.760739913, 22.29416845), (31.700622449, 22.295309026), (31.669862755, 22.295892614)],
                knots=[0, 0, 0, 0, 1.442265648, 2.803286258, 4.065667754, 5.252751118, 6.363271917, 7.39841691, 8.373155808, 9.288343585, 10.168233039, 11.001900497, 11.817228588, 12.611567034, 13.426963055, 14.24959516, 15.104388078, 16, 16, 16, 16], degree=3))
            add(Edge.make_bspline(
                [(31.669862755, 22.295892614), (31.631828893, 22.294563094), (31.557924625, 22.291979681), (31.450633434, 22.268061012), (31.350844775, 22.23047274), (31.257857421, 22.177333742), (31.172866818, 22.108722655), (31.097286108, 22.023210173), (31.025577535, 21.925676313), (30.964584262, 21.809804655), (30.908423102, 21.678016537), (30.863297772, 21.525387026), (30.821490016, 21.353610633), (30.790614597, 21.160102718), (30.763920798, 20.947080428), (30.748343708, 20.713136474), (30.735099548, 20.458990692), (30.734500993, 20.282340978), (30.734190241, 20.190629456)],
                knots=[0, 0, 0, 0, 0.713867664, 1.387128832, 2.054865043, 2.71116651, 3.391329963, 4.097256694, 4.850367561, 5.660840087, 6.551597142, 7.538616976, 8.647598492, 9.872123473, 11.218389466, 12.680914074, 14.276824714, 16, 16, 16, 16], degree=3))
            add(Edge.make_bspline(
                [(30.734190241, 20.190629456), (30.73483395, 20.103968299), (30.736071349, 19.937379816), (30.750607233, 19.698223249), (30.772176165, 19.47971091), (30.805076542, 19.282835127), (30.843512642, 19.105844287), (30.894744195, 18.950545195), (30.953134814, 18.815066175), (31.022715541, 18.70062504), (31.098039155, 18.604304965), (31.175512101, 18.520836306), (31.255451263, 18.450044406), (31.338684162, 18.392015675), (31.424300922, 18.345320992), (31.514153456, 18.314560623), (31.605733113, 18.293658802), (31.667942985, 18.291250783), (31.699102521, 18.29004466)],
                knots=[0, 0, 0, 0, 1.763137318, 3.38927359, 4.873732177, 6.228632264, 7.449226689, 8.554896297, 9.551299921, 10.444451664, 11.27164773, 12.035603122, 12.759076972, 13.439665674, 14.096862192, 14.735741838, 15.366761318, 16, 16, 16, 16], degree=3))
            add(Edge.make_bspline(
                [(31.699102521, 18.29004466), (31.72983218, 18.290848844), (31.790132284, 18.292426876), (31.878031693, 18.305615952), (31.961197096, 18.327367151), (32.039477559, 18.357607005), (32.112590811, 18.396886673), (32.180290182, 18.444875026), (32.24233728, 18.502053953), (32.300237525, 18.567322721), (32.352177249, 18.64200929), (32.396916088, 18.726819825), (32.434506327, 18.820857568), (32.464574283, 18.924703583), (32.488267476, 19.037669605), (32.505105864, 19.159978961), (32.516471005, 19.291925027), (32.517356401, 19.383080592), (32.517815972, 19.430395538)],
                knots=[0, 0, 0, 0, 0.926763241, 1.818566216, 2.674466499, 3.515830513, 4.344194496, 5.172200422, 6.012506428, 6.88440238, 7.799833367, 8.749917039, 9.771239203, 10.849892544, 12.007626437, 13.250589984, 14.572899121, 16, 16, 16, 16], degree=3))
            Line((32.517815972, 19.430395538), (32.517815972, 19.752032964))
            Line((32.517815972, 19.752032964), (31.611383223, 19.752032964))
            Line((31.611383223, 19.752032964), (31.611383223, 20.30758852))
            Line((31.611383223, 20.30758852), (33.102611293, 20.30758852))
            Line((33.102611293, 20.30758852), (33.102611293, 17.734489105))
        make_face(mode=Mode.SUBTRACT)
    # profile 2 of 3: a face of its own
    with BuildSketch(Plane(origin=(0, 10, 0), x_dir=(1, 0, 0), z_dir=(0, 1, 0))):
        with Locations((6.5, 18.646769807)):
            Rectangle(SKETCH_5_W_3, SKETCH_5_H_3)
        Polygon((3.383335667, 18.64715665), (2.749062348, 18.08056229), (2.749062348, 18.460605674), (1.671405081, 18.460605674), (1.671405081, 18.851495045), (2.749062348, 18.851495045), (2.749062348, 19.245855132), align=None, mode=Mode.SUBTRACT)
    # profile 3 of 3: a face of its own
    with BuildSketch(Plane(origin=(0, 10, 0), x_dir=(1, 0, 0), z_dir=(0, 1, 0))):
        with Locations((6.5, 10.646769807)):
            Rectangle(SKETCH_5_W_3, SKETCH_5_H_3)
        Polygon((3.551150659, 10.362171108), (2.473927231, 10.362171108), (2.473927231, 9.979524687), (1.834013999, 10.563038787), (2.473927231, 11.138743776), (2.473927231, 10.753060479), (3.551150659, 10.753060479), align=None, mode=Mode.SUBTRACT)
    extrude(amount=-CUT_EXTRUDE_3_DEPTH, mode=Mode.SUBTRACT)

    # 草图6 → 凸台-拉伸3 (add)
    with BuildSketch(Plane(origin=(60, 0, 0), x_dir=(0, 0, -1), z_dir=(1, 0, 0))):
        with Locations(Location((11, 5, 0), (0, 0, 180))):
            Circle(SKETCH_6_R)
    extrude(amount=EXTRUDE_3_DEPTH)

    # 草图7 → 凸台-拉伸4 (add)
    with BuildSketch(Plane(origin=(61.5, 0, 0), x_dir=(0, 0, -1), z_dir=(1, 0, 0))):
        with Locations((11, 5)):
            Circle(SKETCH_7_R)
    extrude(amount=EXTRUDE_4_DEPTH)


solid = part.part
